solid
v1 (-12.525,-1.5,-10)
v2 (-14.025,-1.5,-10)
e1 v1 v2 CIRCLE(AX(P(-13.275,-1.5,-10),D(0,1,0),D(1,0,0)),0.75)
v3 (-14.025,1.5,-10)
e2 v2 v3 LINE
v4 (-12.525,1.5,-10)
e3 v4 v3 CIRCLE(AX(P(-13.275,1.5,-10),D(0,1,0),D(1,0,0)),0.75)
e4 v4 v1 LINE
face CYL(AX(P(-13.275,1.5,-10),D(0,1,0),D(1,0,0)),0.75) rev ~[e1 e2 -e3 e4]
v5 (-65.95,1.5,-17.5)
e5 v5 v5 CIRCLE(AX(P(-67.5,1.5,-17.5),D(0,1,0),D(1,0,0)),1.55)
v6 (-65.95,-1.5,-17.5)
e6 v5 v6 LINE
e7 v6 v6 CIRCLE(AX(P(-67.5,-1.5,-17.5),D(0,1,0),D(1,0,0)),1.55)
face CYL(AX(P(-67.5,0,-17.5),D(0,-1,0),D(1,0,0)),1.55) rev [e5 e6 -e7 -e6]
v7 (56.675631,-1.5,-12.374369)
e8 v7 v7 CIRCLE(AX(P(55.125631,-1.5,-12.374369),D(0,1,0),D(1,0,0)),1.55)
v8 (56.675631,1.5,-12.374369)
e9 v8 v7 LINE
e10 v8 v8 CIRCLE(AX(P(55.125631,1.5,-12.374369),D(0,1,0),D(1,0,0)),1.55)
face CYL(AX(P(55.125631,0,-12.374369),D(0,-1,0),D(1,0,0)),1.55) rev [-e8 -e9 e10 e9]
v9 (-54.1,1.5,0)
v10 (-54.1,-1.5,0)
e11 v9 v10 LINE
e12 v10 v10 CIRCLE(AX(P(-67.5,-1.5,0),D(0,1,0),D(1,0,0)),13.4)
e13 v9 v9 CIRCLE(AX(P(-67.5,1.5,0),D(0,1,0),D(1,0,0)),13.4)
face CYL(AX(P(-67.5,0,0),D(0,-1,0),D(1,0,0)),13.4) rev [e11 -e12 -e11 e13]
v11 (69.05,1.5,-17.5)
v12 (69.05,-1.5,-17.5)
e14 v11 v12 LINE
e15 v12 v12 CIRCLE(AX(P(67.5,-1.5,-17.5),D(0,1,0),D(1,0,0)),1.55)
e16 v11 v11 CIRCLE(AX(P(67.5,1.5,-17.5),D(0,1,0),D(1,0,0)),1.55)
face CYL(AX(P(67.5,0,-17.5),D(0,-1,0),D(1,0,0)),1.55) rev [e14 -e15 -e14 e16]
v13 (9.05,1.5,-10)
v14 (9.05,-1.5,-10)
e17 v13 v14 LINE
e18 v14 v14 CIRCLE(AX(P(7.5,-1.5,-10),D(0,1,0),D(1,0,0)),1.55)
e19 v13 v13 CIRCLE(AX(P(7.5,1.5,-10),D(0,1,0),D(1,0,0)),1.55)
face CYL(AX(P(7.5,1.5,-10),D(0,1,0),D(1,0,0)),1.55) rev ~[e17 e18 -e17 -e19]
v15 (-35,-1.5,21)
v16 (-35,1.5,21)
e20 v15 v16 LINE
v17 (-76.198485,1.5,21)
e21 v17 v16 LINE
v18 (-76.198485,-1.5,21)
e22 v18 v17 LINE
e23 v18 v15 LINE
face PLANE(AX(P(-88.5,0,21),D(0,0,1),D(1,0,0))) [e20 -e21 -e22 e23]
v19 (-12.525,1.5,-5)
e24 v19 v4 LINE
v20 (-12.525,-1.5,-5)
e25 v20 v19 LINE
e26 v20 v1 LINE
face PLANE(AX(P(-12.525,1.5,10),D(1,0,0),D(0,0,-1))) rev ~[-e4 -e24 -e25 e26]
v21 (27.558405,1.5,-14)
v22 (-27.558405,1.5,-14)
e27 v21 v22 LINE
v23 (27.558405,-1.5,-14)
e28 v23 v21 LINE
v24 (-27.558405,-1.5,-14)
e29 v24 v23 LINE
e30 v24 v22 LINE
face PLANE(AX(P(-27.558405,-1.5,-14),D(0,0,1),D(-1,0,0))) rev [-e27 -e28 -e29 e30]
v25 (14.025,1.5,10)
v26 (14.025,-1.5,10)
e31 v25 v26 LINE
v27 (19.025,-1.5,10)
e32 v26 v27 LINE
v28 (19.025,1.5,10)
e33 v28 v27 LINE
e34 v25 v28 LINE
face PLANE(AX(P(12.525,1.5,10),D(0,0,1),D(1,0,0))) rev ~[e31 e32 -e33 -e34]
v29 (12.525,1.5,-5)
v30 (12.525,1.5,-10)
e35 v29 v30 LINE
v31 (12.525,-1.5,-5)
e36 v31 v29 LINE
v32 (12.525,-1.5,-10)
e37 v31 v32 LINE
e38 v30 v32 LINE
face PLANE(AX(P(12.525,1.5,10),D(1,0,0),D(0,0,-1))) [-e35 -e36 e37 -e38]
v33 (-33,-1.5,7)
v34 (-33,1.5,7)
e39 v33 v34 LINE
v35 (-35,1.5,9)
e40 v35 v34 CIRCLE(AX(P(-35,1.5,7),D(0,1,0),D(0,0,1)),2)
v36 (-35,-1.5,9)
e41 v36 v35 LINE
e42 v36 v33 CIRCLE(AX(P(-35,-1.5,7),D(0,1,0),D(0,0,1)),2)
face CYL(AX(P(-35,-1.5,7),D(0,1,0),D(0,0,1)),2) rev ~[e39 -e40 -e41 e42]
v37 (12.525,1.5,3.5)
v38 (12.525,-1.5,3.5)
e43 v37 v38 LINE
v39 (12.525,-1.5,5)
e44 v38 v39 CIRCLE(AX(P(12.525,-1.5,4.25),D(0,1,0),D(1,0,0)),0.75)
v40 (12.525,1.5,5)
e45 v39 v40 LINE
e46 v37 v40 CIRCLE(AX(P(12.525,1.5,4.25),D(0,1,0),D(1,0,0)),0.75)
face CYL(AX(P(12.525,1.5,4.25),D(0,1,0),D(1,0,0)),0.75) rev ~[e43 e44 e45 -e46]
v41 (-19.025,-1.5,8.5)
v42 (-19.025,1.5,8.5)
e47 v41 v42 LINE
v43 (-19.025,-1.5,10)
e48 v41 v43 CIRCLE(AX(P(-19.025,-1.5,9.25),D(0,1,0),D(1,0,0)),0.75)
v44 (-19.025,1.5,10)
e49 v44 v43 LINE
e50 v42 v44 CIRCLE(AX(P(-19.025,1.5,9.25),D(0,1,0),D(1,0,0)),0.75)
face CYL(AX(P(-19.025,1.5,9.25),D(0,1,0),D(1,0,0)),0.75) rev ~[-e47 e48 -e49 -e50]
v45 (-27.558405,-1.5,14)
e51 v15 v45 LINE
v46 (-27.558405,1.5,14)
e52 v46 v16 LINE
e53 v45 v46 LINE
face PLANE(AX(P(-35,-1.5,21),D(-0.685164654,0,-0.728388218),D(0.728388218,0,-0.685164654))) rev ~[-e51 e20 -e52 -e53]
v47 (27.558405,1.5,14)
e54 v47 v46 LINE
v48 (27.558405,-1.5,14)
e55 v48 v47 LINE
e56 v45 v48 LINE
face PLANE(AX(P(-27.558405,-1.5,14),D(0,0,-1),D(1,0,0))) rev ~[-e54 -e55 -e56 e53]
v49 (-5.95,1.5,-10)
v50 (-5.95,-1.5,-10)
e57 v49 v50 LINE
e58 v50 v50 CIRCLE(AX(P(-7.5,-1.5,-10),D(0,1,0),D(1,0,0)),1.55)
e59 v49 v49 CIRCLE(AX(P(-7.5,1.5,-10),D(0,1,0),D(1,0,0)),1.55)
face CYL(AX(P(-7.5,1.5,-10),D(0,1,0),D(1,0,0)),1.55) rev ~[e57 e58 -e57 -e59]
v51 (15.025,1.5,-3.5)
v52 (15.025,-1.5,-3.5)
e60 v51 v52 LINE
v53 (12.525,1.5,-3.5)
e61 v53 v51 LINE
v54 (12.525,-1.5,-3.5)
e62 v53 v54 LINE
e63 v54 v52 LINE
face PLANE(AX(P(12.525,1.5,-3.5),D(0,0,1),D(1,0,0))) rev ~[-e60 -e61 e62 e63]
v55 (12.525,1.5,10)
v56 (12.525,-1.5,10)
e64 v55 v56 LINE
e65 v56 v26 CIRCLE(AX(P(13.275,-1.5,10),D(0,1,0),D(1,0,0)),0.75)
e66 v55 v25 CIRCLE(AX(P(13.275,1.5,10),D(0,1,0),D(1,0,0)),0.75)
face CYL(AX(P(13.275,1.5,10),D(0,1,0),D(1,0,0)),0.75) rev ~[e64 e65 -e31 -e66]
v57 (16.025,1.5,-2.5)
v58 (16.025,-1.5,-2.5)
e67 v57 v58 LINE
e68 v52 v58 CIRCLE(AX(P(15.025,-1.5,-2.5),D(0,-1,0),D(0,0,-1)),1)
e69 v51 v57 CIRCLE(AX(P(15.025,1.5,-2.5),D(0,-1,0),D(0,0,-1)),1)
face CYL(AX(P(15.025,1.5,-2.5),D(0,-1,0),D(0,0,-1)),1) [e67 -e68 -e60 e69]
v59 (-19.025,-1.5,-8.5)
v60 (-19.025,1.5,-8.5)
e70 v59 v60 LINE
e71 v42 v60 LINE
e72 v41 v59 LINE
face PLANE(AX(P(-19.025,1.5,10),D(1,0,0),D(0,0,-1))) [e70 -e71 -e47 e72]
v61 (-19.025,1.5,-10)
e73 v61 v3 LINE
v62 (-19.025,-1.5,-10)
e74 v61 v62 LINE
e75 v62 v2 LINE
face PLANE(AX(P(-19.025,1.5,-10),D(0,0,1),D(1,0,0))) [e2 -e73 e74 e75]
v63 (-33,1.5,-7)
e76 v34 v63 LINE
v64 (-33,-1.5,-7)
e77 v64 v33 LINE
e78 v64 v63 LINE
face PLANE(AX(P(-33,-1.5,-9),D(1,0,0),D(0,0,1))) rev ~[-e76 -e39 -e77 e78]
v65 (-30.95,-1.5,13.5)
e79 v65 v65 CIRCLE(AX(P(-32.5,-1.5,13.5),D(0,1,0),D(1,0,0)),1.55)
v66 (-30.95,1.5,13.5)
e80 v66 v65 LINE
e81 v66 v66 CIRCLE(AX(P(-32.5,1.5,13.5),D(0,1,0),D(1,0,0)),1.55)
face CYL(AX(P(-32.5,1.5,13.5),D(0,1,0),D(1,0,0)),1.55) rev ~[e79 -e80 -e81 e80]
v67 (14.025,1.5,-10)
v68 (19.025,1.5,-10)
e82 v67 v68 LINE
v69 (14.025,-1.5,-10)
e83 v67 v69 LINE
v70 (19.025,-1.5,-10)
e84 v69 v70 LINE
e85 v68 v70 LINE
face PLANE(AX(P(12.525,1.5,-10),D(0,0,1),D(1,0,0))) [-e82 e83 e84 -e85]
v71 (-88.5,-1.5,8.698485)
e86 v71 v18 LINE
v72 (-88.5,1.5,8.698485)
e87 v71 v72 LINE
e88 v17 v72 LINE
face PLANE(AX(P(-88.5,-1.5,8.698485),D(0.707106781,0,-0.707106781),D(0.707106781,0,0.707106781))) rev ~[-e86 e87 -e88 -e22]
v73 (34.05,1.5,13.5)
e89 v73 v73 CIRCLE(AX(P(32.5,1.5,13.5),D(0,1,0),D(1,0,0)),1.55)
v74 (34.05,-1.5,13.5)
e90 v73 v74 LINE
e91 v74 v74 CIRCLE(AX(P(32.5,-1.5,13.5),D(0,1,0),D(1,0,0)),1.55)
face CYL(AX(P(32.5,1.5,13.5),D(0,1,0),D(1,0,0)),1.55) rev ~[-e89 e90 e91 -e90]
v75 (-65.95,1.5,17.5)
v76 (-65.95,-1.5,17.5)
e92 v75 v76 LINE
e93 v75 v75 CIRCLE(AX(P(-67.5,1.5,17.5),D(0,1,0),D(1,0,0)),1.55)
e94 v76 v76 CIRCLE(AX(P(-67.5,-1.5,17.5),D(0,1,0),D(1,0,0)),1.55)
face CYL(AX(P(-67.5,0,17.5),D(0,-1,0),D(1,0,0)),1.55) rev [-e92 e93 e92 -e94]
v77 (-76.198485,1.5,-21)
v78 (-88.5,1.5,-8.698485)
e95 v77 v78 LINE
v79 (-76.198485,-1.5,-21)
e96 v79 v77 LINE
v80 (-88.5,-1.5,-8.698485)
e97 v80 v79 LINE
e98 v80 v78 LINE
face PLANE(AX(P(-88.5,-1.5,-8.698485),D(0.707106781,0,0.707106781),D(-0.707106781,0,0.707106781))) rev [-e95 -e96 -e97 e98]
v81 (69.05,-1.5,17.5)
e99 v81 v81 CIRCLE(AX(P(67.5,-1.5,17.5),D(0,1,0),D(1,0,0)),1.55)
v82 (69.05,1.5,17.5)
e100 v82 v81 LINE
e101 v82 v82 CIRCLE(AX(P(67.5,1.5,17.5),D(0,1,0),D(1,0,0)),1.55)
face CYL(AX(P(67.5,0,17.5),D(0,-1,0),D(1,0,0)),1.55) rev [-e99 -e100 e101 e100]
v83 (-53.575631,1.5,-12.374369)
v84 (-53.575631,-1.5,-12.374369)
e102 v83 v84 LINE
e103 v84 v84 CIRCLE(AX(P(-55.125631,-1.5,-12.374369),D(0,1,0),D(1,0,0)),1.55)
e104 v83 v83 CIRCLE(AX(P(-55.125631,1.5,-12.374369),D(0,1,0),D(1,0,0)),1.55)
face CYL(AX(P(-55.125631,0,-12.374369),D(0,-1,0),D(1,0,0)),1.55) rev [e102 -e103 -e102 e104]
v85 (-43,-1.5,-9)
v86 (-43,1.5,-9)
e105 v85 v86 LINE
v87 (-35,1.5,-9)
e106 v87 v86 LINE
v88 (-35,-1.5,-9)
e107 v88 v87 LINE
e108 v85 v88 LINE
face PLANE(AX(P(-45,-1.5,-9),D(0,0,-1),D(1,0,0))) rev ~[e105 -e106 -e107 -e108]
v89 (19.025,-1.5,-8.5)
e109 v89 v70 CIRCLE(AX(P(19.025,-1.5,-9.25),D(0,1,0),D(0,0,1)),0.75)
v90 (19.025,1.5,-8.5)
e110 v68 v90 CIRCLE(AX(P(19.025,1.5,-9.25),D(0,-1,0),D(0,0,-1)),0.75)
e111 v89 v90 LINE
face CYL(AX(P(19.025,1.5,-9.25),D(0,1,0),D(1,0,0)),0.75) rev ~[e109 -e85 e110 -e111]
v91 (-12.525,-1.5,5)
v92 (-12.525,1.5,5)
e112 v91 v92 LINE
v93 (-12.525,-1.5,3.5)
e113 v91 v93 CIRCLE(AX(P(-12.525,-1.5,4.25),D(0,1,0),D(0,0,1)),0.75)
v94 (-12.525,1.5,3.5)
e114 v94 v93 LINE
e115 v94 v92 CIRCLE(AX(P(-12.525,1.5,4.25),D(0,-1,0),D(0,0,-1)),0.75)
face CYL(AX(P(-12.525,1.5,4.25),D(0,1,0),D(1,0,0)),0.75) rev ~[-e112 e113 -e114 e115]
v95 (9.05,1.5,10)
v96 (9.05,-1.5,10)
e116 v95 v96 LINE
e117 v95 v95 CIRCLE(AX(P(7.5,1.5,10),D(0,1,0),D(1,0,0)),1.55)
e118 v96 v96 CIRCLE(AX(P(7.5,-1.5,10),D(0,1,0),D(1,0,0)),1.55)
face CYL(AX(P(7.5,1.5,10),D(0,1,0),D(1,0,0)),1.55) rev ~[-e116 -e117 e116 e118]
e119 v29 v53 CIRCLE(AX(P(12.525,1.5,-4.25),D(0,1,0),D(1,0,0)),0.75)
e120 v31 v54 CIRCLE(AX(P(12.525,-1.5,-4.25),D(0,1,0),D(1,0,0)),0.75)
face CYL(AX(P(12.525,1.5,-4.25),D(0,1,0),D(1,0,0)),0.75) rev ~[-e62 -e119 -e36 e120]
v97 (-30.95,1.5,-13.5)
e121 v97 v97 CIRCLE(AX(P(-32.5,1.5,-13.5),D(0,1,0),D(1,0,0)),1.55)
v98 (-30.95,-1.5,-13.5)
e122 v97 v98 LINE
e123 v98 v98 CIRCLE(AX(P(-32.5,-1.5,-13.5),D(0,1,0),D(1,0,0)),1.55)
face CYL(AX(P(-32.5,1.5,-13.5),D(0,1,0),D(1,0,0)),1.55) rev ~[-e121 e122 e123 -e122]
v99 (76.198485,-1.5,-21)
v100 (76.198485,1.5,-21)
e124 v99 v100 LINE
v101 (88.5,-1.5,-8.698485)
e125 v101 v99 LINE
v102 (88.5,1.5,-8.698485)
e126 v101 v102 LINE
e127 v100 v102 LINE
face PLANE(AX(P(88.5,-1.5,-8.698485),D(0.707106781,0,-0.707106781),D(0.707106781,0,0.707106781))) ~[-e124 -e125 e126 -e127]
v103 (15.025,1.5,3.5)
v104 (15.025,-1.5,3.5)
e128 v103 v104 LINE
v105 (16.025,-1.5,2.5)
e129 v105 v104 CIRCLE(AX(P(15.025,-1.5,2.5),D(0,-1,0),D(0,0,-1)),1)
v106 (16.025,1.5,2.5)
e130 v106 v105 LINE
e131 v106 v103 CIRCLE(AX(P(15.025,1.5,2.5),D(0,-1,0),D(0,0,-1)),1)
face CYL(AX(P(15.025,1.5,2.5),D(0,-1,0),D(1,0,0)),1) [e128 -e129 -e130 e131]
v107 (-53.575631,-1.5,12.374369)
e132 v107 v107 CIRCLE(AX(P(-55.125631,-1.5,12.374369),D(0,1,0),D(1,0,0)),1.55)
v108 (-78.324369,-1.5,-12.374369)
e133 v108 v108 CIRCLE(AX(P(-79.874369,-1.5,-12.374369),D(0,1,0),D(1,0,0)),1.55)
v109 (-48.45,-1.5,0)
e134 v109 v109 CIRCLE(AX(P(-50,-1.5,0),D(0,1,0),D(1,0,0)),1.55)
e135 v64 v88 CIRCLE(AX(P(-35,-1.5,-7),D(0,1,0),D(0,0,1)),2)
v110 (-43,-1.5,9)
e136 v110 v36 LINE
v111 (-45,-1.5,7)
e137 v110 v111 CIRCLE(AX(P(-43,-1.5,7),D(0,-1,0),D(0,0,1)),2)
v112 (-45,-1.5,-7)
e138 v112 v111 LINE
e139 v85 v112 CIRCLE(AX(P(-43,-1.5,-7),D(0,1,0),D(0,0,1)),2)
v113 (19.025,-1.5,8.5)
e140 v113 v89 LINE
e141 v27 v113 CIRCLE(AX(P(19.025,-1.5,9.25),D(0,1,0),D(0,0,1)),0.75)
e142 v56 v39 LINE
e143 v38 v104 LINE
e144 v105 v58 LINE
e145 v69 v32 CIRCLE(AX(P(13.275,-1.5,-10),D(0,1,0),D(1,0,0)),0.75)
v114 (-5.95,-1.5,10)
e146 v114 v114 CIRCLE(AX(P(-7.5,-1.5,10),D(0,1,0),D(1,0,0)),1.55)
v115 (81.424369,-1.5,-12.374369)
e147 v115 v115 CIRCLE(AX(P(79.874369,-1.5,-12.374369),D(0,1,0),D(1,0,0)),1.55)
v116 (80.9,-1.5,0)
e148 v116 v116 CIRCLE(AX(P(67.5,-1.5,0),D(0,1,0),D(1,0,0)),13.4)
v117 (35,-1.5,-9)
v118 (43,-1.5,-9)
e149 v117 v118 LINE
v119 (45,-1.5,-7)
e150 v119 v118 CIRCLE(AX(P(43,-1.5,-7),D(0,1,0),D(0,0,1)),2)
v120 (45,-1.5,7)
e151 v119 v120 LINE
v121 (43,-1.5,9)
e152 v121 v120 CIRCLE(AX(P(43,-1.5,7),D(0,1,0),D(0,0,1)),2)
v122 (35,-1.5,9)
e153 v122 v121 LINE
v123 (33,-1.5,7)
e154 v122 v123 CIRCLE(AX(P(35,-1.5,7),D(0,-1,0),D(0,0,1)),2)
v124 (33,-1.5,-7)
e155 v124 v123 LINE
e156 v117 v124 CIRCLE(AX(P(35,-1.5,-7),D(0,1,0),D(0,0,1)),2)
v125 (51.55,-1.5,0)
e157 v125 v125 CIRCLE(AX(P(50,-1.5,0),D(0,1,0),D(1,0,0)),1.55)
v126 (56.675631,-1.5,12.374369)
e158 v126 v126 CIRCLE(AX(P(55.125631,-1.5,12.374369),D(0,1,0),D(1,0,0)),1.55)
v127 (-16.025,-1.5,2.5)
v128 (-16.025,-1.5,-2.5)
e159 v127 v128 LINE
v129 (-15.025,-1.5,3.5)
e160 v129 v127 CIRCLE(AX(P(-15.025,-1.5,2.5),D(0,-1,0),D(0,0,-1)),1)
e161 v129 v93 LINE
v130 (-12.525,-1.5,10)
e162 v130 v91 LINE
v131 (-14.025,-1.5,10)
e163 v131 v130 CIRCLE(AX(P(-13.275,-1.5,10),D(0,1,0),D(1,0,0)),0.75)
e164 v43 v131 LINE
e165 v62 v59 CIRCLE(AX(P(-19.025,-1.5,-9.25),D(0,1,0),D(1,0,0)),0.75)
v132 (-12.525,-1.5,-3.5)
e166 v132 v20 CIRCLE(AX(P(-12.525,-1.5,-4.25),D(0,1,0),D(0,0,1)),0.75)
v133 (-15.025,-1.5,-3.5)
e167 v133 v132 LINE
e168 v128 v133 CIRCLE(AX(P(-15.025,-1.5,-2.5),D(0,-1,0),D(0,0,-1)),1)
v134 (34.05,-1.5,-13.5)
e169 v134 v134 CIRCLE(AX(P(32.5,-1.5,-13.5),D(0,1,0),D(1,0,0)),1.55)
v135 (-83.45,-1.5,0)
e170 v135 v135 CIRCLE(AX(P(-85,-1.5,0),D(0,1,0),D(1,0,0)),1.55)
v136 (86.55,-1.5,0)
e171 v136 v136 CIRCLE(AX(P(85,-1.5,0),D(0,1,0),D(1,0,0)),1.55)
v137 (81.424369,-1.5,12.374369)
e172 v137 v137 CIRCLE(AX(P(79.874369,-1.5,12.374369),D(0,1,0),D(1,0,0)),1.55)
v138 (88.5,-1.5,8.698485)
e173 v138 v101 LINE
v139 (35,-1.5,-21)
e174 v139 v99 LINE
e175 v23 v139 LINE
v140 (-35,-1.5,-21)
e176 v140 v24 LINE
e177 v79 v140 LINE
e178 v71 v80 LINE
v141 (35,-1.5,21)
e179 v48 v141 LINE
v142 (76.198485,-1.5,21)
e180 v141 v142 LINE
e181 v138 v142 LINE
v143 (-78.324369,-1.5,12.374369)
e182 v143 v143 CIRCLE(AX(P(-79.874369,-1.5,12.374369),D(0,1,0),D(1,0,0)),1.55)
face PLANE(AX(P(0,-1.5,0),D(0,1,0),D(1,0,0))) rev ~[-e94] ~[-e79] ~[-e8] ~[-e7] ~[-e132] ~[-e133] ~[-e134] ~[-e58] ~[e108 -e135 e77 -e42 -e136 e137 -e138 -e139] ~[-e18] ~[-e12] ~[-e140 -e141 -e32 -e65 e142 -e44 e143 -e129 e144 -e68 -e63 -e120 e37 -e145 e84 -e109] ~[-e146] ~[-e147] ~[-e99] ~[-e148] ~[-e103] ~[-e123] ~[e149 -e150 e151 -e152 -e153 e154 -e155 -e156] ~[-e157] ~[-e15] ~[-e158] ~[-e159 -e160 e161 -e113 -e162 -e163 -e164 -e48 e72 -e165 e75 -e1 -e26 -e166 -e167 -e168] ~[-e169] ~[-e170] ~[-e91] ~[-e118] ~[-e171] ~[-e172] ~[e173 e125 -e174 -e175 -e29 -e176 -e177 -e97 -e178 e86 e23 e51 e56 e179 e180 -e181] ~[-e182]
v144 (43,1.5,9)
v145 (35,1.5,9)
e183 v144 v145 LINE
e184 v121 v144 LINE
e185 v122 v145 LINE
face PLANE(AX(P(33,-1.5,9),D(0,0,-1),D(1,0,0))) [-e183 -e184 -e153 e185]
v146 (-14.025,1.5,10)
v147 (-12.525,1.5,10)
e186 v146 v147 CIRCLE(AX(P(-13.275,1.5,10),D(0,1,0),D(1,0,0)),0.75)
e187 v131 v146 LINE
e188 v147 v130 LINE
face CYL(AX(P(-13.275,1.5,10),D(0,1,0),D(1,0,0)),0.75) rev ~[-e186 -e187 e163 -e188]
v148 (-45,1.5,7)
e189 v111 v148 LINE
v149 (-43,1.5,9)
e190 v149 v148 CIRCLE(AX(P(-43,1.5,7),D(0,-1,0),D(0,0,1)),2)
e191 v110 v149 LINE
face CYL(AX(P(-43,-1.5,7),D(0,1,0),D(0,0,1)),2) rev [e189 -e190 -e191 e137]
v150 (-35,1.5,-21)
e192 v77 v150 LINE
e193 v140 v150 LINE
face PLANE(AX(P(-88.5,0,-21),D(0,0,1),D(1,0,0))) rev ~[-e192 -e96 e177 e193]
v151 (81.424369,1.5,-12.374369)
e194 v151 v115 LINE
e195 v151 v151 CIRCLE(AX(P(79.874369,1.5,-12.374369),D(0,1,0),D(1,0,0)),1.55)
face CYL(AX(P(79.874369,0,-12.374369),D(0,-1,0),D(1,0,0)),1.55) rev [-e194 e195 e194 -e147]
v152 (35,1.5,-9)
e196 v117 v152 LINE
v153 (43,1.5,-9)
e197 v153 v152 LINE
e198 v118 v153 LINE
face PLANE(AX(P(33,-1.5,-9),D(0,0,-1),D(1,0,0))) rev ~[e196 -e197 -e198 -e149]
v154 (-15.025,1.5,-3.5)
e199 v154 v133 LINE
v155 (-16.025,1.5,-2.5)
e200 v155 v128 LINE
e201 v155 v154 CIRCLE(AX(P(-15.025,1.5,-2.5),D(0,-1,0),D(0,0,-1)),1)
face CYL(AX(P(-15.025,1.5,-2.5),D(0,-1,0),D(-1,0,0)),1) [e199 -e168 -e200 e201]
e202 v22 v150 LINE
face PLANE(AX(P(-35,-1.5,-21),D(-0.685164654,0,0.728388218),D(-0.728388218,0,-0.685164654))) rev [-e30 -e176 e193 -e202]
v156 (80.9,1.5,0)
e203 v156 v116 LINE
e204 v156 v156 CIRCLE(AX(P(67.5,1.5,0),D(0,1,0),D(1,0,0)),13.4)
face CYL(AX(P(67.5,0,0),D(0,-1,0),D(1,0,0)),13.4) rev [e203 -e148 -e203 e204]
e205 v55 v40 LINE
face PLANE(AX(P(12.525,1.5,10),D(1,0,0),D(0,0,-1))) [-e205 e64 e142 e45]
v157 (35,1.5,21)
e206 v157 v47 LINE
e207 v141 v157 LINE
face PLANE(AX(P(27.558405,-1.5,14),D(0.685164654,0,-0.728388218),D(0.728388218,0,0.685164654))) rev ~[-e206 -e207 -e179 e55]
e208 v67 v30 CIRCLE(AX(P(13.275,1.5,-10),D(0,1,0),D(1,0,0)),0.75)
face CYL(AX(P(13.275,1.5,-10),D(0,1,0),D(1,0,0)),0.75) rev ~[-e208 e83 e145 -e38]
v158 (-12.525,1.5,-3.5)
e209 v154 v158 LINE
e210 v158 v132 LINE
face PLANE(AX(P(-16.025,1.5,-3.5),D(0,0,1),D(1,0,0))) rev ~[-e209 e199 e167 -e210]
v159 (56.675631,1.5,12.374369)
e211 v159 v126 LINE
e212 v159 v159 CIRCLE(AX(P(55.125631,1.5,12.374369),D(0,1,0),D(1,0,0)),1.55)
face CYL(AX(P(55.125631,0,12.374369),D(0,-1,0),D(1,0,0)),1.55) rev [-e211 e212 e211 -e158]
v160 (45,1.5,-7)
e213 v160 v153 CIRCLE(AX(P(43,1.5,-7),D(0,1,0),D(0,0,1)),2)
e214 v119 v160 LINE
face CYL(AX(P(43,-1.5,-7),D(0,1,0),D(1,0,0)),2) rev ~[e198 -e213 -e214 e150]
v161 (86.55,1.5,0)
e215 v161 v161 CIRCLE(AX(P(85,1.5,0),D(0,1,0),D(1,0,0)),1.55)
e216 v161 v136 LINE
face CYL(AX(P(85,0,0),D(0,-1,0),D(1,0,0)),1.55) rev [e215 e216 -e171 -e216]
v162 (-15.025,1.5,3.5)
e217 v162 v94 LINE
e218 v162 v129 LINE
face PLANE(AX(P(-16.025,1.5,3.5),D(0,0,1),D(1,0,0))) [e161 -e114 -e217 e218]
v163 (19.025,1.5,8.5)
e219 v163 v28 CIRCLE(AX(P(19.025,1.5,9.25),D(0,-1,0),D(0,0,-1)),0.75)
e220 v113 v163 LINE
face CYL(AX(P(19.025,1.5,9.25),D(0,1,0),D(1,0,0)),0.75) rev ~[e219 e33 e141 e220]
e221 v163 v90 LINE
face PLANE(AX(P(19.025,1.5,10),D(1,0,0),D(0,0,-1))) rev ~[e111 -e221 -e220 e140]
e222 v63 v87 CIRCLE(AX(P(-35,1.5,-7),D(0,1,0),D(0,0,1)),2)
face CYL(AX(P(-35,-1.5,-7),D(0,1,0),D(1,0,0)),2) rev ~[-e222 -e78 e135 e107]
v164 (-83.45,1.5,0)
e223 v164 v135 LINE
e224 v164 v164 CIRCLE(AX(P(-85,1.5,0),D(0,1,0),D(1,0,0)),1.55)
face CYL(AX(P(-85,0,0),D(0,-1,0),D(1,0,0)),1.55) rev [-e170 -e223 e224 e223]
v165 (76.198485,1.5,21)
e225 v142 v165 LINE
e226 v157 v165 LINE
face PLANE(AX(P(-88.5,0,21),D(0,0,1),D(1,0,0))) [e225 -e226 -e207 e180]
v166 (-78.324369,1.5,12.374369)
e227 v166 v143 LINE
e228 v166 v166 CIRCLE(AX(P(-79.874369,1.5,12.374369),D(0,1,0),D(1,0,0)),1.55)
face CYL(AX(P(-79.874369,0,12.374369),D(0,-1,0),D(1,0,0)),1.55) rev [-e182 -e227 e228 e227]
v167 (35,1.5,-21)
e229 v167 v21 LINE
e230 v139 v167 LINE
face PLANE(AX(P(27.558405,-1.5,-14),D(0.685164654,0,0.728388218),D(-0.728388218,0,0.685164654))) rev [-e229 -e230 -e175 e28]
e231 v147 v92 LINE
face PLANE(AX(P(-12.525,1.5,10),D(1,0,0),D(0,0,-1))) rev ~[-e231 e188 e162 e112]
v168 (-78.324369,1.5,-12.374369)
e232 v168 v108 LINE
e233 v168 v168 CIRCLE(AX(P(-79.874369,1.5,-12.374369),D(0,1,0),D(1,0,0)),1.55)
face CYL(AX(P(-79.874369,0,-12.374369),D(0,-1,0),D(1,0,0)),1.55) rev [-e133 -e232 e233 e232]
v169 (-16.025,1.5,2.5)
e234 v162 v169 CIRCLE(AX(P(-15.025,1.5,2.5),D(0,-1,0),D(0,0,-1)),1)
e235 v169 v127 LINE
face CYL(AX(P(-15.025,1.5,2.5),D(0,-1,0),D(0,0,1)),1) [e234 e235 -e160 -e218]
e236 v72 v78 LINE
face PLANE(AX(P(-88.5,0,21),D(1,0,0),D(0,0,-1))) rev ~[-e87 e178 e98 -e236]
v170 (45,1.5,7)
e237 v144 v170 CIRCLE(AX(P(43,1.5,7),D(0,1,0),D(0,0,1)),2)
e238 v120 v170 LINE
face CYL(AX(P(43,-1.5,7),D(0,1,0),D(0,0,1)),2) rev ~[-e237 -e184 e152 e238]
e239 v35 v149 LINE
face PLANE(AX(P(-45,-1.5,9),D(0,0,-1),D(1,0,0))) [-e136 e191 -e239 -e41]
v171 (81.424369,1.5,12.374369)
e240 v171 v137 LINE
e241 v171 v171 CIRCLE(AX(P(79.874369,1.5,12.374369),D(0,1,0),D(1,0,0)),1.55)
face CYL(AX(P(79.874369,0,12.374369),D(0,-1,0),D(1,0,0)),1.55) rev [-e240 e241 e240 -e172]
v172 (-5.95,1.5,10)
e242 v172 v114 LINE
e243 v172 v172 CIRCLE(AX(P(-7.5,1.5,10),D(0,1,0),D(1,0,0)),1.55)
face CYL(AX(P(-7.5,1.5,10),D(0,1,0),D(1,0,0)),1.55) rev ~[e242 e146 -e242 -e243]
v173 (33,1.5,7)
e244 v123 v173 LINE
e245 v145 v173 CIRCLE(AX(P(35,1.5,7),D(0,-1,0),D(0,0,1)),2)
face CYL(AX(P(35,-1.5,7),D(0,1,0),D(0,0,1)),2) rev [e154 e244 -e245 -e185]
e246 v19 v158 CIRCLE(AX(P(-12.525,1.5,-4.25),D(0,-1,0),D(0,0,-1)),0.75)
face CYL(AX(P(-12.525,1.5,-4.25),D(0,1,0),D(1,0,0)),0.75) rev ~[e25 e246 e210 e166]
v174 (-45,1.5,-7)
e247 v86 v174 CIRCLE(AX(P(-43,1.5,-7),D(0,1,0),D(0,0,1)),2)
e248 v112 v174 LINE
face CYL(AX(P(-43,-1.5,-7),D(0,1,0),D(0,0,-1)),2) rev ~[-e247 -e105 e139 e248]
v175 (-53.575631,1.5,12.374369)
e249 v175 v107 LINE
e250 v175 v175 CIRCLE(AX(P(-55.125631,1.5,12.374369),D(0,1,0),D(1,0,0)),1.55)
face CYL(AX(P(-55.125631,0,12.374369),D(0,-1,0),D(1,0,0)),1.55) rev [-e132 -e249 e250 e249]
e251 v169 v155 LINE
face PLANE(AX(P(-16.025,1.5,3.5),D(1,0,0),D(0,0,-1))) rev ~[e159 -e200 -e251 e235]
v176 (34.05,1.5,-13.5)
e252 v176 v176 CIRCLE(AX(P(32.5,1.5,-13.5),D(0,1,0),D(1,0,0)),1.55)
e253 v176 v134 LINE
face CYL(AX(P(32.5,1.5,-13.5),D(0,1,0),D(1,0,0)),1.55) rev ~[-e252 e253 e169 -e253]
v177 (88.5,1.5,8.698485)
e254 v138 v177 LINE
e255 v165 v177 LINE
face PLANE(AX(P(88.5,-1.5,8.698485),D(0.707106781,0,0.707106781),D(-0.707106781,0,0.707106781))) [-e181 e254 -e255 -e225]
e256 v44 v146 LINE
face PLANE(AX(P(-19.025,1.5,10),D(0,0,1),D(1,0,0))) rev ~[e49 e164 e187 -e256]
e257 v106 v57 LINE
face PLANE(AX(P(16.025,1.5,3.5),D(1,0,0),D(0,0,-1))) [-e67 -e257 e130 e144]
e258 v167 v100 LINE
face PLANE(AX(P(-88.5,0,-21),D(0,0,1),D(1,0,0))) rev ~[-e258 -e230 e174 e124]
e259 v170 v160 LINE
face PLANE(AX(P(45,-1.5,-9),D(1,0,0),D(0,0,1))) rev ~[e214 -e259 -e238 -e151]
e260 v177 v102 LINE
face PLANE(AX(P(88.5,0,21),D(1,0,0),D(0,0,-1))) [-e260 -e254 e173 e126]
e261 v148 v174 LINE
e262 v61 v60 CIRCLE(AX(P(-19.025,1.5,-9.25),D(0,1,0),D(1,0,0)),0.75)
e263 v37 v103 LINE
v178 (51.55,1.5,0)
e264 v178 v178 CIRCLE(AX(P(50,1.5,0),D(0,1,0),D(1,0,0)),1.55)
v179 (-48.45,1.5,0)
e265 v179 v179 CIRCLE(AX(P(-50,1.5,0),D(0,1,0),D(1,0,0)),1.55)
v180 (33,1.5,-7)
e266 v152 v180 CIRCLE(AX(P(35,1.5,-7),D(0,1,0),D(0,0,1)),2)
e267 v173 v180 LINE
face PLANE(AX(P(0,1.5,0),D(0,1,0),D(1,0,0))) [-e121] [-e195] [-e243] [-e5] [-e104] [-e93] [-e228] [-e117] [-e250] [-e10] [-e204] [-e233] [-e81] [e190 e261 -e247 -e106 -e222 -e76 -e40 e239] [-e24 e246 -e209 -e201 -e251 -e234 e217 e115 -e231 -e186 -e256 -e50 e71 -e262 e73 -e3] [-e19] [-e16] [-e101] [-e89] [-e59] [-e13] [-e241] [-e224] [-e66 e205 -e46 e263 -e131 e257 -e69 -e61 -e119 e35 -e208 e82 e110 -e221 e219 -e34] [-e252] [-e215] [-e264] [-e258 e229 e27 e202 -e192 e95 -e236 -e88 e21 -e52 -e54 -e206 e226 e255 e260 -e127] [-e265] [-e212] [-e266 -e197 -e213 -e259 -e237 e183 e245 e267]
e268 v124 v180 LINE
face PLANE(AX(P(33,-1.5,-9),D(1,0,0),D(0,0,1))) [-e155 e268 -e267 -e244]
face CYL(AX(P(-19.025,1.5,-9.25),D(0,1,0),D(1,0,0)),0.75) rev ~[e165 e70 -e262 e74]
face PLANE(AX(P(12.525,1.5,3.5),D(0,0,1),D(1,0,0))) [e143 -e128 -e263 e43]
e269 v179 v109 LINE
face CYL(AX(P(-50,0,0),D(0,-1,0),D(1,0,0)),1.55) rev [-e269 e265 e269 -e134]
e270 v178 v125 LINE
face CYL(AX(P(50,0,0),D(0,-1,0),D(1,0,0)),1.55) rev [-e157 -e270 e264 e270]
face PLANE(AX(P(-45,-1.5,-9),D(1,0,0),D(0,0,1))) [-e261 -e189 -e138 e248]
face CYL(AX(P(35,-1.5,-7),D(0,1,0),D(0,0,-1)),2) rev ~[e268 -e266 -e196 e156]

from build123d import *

# Parameters (mm, degrees)
SKETCH_1_W               = 177
SKETCH_1_H               = 42
SKETCH_1_R               = 1.55
SKETCH_1_R_2             = 13.4
EXTRUDE_1_DEPTH          = 1.5
SKETCH_3_W               = 6.5
SKETCH_3_H               = 20
CUT_EXTRUDE_1_DEPTH      = 4
SKETCH_4_W               = 3.5
SKETCH_4_H               = 7
EXTRUDE_2_DEPTH          = 3
SKETCH_5_R               = 0.75
CUT_EXTRUDE_2_DEPTH      = 4
FILLET_1_R               = 1
SKETCH_6_R               = 1.55
CUT_EXTRUDE_3_DEPTH      = 1
CUT_EXTRUDE_3_DEPTH_BACK = 4
CUT_EXTRUDE_4_DEPTH      = 4
SKETCH_8_W               = 12
SKETCH_8_H               = 18
CUT_EXTRUDE_5_DEPTH      = 4
FILLET_2_R               = 2


with BuildPart() as part:
    # 草图1 → 凸台-拉伸1 (new body, symmetric)
    with BuildSketch(Plane(origin=(0, 0, 0), x_dir=(1, 0, 0), z_dir=(0, 1, 0))):
        Rectangle(SKETCH_1_W, SKETCH_1_H)
        with Locations((-67.5, 17.5)):
            Circle(SKETCH_1_R, mode=Mode.SUBTRACT)
        with Locations((-55.125631329, 12.374368671)):
            Circle(SKETCH_1_R, mode=Mode.SUBTRACT)
        with Locations((-50, 0)):
            Circle(SKETCH_1_R, mode=Mode.SUBTRACT)
        with Locations((-55.125631329, -12.374368671)):
            Circle(SKETCH_1_R, mode=Mode.SUBTRACT)
        with Locations((-67.5, -17.5)):
            Circle(SKETCH_1_R, mode=Mode.SUBTRACT)
        with Locations((-79.874368671, -12.374368671)):
            Circle(SKETCH_1_R, mode=Mode.SUBTRACT)
        with Locations((-85, 0)):
            Circle(SKETCH_1_R, mode=Mode.SUBTRACT)
        with Locations((-79.874368671, 12.374368671)):
            Circle(SKETCH_1_R, mode=Mode.SUBTRACT)
        with Locations((67.5, 17.5)):
            Circle(SKETCH_1_R, mode=Mode.SUBTRACT)
        with Locations((55.125631329, 12.374368671)):
            Circle(SKETCH_1_R, mode=Mode.SUBTRACT)
        with Locations((50, 0)):
            Circle(SKETCH_1_R, mode=Mode.SUBTRACT)
        with Locations((55.125631329, -12.374368671)):
            Circle(SKETCH_1_R, mode=Mode.SUBTRACT)
        with Locations((67.5, -17.5)):
            Circle(SKETCH_1_R, mode=Mode.SUBTRACT)
        with Locations((79.874368671, -12.374368671)):
            Circle(SKETCH_1_R, mode=Mode.SUBTRACT)
        with Locations((85, 0)):
            Circle(SKETCH_1_R, mode=Mode.SUBTRACT)
        with Locations((79.874368671, 12.374368671)):
            Circle(SKETCH_1_R, mode=Mode.SUBTRACT)
        with Locations((-67.5, 0)):
            Circle(SKETCH_1_R_2, mode=Mode.SUBTRACT)
        with Locations((67.5, 0)):
            Circle(SKETCH_1_R_2, mode=Mode.SUBTRACT)
    extrude(amount=EXTRUDE_1_DEPTH, both=True)

    # 草图3 → 切除-拉伸1 (cut, through all)
    with BuildSketch(Plane(origin=(0, 1.5, 0), x_dir=(1, 0, 0), z_dir=(0, 1, 0))):
        with Locations((15.775, 0)):
            Rectangle(SKETCH_3_W, SKETCH_3_H)
        with Locations((-15.775, 0)):
            Rectangle(SKETCH_3_W, SKETCH_3_H)
    extrude(amount=-CUT_EXTRUDE_1_DEPTH, mode=Mode.SUBTRACT)

    # 草图4 → 凸台-拉伸2 (add)
    with BuildSketch(Plane(origin=(0, 1.5, 0), x_dir=(1, 0, 0), z_dir=(0, 1, 0))):
        with Locations((-14.275, 0)):
            Rectangle(SKETCH_4_W, SKETCH_4_H)
        with Locations((14.275, 0)):
            Rectangle(SKETCH_4_W, SKETCH_4_H)
    extrude(amount=-EXTRUDE_2_DEPTH)

    # 草图5 → 切除-拉伸2 (cut, through all)
    with BuildSketch(Plane(origin=(0, 1.5, 0), x_dir=(1, 0, 0), z_dir=(0, 1, 0))):
        with Locations((12.525, 4.25)):
            Circle(SKETCH_5_R)
        with Locations((12.525, -4.25)):
            Circle(SKETCH_5_R)
        with Locations((13.275, -10)):
            Circle(SKETCH_5_R)
        with Locations((13.275, 10)):
            Circle(SKETCH_5_R)
        with Locations((19.025, 9.25)):
            Circle(SKETCH_5_R)
        with Locations((19.025, -9.25)):
            Circle(SKETCH_5_R)
        with Locations((-19.025, -9.25)):
            Circle(SKETCH_5_R)
        with Locations((-19.025, 9.25)):
            Circle(SKETCH_5_R)
        with Locations((-13.275, 10)):
            Circle(SKETCH_5_R)
        with Locations((-13.275, -10)):
            Circle(SKETCH_5_R)
        with Locations((-12.525, -4.25)):
            Circle(SKETCH_5_R)
        with Locations((-12.525, 4.25)):
            Circle(SKETCH_5_R)
    extrude(amount=-CUT_EXTRUDE_2_DEPTH, mode=Mode.SUBTRACT)

    # 圆角1
    fillet_1_edges = [part.edges().sort_by_distance(p)[0] for p in [
        (-16.025, 0, 3.5),
        (-16.025, 0, -3.5),
        (16.025, 0, -3.5),
        (16.025, 0, 3.5),
    ]]
    fillet(fillet_1_edges, radius=FILLET_1_R)

    # 草图6 → 切除-拉伸3 (cut, two sides)
    with BuildSketch(Plane(origin=(0, 1.5, 0), x_dir=(1, 0, 0), z_dir=(0, 1, 0))) as cut_extrude_3_sk:
        with Locations((-32.5, 13.5)):
            Circle(SKETCH_6_R)
        with Locations((-32.5, -13.5)):
            Circle(SKETCH_6_R)
        with Locations((-7.5, 10)):
            Circle(SKETCH_6_R)
        with Locations((-7.5, -10)):
            Circle(SKETCH_6_R)
        with Locations((7.5, -10)):
            Circle(SKETCH_6_R)
        with Locations((7.5, 10)):
            Circle(SKETCH_6_R)
        with Locations((32.5, 13.5)):
            Circle(SKETCH_6_R)
        with Locations((32.5, -13.5)):
            Circle(SKETCH_6_R)
    extrude(amount=CUT_EXTRUDE_3_DEPTH, mode=Mode.SUBTRACT)
    extrude(cut_extrude_3_sk.sketch, amount=-CUT_EXTRUDE_3_DEPTH_BACK, mode=Mode.SUBTRACT)

    # 草图7 → 切除-拉伸4 (cut, through all)
    with BuildSketch(Plane.XZ.offset(1.5)):
        Polygon((-35, 21), (-27.558405496, 14), (27.558405496, 14), (35, 21), align=None)
        Polygon((-88.5, 8.69848481), (-76.19848481, 21), (-88.5, 21), align=None)
        Polygon((76.19848481, 21), (88.5, 21), (88.5, 8.69848481), align=None)
    cut_extrude_4 = extrude(amount=-CUT_EXTRUDE_4_DEPTH, mode=Mode.SUBTRACT)

    # 镜向1: 切除-拉伸4 across plane
    add(cut_extrude_4.mirror(Plane.XY), mode=Mode.SUBTRACT)

    # 草图8 → 切除-拉伸5 (cut, through all)
    with BuildSketch(Plane.XZ.offset(1.5)):
        with Locations((-39, 0)):
            Rectangle(SKETCH_8_W, SKETCH_8_H)
        with Locations((39, 0)):
            Rectangle(SKETCH_8_W, SKETCH_8_H)
    extrude(amount=-CUT_EXTRUDE_5_DEPTH, mode=Mode.SUBTRACT)

    # 圆角2
    fillet_2_edges = [part.edges().sort_by_distance(p)[0] for p in [
        (-45, 0, -9),
        (-45, 0, 9),
        (-33, 0, 9),
        (-33, 0, -9),
        (33, 0, -9),
        (33, 0, 9),
        (45, 0, 9),
        (45, 0, -9),
    ]]
    fillet(fillet_2_edges, radius=FILLET_2_R)


solid = part.part
